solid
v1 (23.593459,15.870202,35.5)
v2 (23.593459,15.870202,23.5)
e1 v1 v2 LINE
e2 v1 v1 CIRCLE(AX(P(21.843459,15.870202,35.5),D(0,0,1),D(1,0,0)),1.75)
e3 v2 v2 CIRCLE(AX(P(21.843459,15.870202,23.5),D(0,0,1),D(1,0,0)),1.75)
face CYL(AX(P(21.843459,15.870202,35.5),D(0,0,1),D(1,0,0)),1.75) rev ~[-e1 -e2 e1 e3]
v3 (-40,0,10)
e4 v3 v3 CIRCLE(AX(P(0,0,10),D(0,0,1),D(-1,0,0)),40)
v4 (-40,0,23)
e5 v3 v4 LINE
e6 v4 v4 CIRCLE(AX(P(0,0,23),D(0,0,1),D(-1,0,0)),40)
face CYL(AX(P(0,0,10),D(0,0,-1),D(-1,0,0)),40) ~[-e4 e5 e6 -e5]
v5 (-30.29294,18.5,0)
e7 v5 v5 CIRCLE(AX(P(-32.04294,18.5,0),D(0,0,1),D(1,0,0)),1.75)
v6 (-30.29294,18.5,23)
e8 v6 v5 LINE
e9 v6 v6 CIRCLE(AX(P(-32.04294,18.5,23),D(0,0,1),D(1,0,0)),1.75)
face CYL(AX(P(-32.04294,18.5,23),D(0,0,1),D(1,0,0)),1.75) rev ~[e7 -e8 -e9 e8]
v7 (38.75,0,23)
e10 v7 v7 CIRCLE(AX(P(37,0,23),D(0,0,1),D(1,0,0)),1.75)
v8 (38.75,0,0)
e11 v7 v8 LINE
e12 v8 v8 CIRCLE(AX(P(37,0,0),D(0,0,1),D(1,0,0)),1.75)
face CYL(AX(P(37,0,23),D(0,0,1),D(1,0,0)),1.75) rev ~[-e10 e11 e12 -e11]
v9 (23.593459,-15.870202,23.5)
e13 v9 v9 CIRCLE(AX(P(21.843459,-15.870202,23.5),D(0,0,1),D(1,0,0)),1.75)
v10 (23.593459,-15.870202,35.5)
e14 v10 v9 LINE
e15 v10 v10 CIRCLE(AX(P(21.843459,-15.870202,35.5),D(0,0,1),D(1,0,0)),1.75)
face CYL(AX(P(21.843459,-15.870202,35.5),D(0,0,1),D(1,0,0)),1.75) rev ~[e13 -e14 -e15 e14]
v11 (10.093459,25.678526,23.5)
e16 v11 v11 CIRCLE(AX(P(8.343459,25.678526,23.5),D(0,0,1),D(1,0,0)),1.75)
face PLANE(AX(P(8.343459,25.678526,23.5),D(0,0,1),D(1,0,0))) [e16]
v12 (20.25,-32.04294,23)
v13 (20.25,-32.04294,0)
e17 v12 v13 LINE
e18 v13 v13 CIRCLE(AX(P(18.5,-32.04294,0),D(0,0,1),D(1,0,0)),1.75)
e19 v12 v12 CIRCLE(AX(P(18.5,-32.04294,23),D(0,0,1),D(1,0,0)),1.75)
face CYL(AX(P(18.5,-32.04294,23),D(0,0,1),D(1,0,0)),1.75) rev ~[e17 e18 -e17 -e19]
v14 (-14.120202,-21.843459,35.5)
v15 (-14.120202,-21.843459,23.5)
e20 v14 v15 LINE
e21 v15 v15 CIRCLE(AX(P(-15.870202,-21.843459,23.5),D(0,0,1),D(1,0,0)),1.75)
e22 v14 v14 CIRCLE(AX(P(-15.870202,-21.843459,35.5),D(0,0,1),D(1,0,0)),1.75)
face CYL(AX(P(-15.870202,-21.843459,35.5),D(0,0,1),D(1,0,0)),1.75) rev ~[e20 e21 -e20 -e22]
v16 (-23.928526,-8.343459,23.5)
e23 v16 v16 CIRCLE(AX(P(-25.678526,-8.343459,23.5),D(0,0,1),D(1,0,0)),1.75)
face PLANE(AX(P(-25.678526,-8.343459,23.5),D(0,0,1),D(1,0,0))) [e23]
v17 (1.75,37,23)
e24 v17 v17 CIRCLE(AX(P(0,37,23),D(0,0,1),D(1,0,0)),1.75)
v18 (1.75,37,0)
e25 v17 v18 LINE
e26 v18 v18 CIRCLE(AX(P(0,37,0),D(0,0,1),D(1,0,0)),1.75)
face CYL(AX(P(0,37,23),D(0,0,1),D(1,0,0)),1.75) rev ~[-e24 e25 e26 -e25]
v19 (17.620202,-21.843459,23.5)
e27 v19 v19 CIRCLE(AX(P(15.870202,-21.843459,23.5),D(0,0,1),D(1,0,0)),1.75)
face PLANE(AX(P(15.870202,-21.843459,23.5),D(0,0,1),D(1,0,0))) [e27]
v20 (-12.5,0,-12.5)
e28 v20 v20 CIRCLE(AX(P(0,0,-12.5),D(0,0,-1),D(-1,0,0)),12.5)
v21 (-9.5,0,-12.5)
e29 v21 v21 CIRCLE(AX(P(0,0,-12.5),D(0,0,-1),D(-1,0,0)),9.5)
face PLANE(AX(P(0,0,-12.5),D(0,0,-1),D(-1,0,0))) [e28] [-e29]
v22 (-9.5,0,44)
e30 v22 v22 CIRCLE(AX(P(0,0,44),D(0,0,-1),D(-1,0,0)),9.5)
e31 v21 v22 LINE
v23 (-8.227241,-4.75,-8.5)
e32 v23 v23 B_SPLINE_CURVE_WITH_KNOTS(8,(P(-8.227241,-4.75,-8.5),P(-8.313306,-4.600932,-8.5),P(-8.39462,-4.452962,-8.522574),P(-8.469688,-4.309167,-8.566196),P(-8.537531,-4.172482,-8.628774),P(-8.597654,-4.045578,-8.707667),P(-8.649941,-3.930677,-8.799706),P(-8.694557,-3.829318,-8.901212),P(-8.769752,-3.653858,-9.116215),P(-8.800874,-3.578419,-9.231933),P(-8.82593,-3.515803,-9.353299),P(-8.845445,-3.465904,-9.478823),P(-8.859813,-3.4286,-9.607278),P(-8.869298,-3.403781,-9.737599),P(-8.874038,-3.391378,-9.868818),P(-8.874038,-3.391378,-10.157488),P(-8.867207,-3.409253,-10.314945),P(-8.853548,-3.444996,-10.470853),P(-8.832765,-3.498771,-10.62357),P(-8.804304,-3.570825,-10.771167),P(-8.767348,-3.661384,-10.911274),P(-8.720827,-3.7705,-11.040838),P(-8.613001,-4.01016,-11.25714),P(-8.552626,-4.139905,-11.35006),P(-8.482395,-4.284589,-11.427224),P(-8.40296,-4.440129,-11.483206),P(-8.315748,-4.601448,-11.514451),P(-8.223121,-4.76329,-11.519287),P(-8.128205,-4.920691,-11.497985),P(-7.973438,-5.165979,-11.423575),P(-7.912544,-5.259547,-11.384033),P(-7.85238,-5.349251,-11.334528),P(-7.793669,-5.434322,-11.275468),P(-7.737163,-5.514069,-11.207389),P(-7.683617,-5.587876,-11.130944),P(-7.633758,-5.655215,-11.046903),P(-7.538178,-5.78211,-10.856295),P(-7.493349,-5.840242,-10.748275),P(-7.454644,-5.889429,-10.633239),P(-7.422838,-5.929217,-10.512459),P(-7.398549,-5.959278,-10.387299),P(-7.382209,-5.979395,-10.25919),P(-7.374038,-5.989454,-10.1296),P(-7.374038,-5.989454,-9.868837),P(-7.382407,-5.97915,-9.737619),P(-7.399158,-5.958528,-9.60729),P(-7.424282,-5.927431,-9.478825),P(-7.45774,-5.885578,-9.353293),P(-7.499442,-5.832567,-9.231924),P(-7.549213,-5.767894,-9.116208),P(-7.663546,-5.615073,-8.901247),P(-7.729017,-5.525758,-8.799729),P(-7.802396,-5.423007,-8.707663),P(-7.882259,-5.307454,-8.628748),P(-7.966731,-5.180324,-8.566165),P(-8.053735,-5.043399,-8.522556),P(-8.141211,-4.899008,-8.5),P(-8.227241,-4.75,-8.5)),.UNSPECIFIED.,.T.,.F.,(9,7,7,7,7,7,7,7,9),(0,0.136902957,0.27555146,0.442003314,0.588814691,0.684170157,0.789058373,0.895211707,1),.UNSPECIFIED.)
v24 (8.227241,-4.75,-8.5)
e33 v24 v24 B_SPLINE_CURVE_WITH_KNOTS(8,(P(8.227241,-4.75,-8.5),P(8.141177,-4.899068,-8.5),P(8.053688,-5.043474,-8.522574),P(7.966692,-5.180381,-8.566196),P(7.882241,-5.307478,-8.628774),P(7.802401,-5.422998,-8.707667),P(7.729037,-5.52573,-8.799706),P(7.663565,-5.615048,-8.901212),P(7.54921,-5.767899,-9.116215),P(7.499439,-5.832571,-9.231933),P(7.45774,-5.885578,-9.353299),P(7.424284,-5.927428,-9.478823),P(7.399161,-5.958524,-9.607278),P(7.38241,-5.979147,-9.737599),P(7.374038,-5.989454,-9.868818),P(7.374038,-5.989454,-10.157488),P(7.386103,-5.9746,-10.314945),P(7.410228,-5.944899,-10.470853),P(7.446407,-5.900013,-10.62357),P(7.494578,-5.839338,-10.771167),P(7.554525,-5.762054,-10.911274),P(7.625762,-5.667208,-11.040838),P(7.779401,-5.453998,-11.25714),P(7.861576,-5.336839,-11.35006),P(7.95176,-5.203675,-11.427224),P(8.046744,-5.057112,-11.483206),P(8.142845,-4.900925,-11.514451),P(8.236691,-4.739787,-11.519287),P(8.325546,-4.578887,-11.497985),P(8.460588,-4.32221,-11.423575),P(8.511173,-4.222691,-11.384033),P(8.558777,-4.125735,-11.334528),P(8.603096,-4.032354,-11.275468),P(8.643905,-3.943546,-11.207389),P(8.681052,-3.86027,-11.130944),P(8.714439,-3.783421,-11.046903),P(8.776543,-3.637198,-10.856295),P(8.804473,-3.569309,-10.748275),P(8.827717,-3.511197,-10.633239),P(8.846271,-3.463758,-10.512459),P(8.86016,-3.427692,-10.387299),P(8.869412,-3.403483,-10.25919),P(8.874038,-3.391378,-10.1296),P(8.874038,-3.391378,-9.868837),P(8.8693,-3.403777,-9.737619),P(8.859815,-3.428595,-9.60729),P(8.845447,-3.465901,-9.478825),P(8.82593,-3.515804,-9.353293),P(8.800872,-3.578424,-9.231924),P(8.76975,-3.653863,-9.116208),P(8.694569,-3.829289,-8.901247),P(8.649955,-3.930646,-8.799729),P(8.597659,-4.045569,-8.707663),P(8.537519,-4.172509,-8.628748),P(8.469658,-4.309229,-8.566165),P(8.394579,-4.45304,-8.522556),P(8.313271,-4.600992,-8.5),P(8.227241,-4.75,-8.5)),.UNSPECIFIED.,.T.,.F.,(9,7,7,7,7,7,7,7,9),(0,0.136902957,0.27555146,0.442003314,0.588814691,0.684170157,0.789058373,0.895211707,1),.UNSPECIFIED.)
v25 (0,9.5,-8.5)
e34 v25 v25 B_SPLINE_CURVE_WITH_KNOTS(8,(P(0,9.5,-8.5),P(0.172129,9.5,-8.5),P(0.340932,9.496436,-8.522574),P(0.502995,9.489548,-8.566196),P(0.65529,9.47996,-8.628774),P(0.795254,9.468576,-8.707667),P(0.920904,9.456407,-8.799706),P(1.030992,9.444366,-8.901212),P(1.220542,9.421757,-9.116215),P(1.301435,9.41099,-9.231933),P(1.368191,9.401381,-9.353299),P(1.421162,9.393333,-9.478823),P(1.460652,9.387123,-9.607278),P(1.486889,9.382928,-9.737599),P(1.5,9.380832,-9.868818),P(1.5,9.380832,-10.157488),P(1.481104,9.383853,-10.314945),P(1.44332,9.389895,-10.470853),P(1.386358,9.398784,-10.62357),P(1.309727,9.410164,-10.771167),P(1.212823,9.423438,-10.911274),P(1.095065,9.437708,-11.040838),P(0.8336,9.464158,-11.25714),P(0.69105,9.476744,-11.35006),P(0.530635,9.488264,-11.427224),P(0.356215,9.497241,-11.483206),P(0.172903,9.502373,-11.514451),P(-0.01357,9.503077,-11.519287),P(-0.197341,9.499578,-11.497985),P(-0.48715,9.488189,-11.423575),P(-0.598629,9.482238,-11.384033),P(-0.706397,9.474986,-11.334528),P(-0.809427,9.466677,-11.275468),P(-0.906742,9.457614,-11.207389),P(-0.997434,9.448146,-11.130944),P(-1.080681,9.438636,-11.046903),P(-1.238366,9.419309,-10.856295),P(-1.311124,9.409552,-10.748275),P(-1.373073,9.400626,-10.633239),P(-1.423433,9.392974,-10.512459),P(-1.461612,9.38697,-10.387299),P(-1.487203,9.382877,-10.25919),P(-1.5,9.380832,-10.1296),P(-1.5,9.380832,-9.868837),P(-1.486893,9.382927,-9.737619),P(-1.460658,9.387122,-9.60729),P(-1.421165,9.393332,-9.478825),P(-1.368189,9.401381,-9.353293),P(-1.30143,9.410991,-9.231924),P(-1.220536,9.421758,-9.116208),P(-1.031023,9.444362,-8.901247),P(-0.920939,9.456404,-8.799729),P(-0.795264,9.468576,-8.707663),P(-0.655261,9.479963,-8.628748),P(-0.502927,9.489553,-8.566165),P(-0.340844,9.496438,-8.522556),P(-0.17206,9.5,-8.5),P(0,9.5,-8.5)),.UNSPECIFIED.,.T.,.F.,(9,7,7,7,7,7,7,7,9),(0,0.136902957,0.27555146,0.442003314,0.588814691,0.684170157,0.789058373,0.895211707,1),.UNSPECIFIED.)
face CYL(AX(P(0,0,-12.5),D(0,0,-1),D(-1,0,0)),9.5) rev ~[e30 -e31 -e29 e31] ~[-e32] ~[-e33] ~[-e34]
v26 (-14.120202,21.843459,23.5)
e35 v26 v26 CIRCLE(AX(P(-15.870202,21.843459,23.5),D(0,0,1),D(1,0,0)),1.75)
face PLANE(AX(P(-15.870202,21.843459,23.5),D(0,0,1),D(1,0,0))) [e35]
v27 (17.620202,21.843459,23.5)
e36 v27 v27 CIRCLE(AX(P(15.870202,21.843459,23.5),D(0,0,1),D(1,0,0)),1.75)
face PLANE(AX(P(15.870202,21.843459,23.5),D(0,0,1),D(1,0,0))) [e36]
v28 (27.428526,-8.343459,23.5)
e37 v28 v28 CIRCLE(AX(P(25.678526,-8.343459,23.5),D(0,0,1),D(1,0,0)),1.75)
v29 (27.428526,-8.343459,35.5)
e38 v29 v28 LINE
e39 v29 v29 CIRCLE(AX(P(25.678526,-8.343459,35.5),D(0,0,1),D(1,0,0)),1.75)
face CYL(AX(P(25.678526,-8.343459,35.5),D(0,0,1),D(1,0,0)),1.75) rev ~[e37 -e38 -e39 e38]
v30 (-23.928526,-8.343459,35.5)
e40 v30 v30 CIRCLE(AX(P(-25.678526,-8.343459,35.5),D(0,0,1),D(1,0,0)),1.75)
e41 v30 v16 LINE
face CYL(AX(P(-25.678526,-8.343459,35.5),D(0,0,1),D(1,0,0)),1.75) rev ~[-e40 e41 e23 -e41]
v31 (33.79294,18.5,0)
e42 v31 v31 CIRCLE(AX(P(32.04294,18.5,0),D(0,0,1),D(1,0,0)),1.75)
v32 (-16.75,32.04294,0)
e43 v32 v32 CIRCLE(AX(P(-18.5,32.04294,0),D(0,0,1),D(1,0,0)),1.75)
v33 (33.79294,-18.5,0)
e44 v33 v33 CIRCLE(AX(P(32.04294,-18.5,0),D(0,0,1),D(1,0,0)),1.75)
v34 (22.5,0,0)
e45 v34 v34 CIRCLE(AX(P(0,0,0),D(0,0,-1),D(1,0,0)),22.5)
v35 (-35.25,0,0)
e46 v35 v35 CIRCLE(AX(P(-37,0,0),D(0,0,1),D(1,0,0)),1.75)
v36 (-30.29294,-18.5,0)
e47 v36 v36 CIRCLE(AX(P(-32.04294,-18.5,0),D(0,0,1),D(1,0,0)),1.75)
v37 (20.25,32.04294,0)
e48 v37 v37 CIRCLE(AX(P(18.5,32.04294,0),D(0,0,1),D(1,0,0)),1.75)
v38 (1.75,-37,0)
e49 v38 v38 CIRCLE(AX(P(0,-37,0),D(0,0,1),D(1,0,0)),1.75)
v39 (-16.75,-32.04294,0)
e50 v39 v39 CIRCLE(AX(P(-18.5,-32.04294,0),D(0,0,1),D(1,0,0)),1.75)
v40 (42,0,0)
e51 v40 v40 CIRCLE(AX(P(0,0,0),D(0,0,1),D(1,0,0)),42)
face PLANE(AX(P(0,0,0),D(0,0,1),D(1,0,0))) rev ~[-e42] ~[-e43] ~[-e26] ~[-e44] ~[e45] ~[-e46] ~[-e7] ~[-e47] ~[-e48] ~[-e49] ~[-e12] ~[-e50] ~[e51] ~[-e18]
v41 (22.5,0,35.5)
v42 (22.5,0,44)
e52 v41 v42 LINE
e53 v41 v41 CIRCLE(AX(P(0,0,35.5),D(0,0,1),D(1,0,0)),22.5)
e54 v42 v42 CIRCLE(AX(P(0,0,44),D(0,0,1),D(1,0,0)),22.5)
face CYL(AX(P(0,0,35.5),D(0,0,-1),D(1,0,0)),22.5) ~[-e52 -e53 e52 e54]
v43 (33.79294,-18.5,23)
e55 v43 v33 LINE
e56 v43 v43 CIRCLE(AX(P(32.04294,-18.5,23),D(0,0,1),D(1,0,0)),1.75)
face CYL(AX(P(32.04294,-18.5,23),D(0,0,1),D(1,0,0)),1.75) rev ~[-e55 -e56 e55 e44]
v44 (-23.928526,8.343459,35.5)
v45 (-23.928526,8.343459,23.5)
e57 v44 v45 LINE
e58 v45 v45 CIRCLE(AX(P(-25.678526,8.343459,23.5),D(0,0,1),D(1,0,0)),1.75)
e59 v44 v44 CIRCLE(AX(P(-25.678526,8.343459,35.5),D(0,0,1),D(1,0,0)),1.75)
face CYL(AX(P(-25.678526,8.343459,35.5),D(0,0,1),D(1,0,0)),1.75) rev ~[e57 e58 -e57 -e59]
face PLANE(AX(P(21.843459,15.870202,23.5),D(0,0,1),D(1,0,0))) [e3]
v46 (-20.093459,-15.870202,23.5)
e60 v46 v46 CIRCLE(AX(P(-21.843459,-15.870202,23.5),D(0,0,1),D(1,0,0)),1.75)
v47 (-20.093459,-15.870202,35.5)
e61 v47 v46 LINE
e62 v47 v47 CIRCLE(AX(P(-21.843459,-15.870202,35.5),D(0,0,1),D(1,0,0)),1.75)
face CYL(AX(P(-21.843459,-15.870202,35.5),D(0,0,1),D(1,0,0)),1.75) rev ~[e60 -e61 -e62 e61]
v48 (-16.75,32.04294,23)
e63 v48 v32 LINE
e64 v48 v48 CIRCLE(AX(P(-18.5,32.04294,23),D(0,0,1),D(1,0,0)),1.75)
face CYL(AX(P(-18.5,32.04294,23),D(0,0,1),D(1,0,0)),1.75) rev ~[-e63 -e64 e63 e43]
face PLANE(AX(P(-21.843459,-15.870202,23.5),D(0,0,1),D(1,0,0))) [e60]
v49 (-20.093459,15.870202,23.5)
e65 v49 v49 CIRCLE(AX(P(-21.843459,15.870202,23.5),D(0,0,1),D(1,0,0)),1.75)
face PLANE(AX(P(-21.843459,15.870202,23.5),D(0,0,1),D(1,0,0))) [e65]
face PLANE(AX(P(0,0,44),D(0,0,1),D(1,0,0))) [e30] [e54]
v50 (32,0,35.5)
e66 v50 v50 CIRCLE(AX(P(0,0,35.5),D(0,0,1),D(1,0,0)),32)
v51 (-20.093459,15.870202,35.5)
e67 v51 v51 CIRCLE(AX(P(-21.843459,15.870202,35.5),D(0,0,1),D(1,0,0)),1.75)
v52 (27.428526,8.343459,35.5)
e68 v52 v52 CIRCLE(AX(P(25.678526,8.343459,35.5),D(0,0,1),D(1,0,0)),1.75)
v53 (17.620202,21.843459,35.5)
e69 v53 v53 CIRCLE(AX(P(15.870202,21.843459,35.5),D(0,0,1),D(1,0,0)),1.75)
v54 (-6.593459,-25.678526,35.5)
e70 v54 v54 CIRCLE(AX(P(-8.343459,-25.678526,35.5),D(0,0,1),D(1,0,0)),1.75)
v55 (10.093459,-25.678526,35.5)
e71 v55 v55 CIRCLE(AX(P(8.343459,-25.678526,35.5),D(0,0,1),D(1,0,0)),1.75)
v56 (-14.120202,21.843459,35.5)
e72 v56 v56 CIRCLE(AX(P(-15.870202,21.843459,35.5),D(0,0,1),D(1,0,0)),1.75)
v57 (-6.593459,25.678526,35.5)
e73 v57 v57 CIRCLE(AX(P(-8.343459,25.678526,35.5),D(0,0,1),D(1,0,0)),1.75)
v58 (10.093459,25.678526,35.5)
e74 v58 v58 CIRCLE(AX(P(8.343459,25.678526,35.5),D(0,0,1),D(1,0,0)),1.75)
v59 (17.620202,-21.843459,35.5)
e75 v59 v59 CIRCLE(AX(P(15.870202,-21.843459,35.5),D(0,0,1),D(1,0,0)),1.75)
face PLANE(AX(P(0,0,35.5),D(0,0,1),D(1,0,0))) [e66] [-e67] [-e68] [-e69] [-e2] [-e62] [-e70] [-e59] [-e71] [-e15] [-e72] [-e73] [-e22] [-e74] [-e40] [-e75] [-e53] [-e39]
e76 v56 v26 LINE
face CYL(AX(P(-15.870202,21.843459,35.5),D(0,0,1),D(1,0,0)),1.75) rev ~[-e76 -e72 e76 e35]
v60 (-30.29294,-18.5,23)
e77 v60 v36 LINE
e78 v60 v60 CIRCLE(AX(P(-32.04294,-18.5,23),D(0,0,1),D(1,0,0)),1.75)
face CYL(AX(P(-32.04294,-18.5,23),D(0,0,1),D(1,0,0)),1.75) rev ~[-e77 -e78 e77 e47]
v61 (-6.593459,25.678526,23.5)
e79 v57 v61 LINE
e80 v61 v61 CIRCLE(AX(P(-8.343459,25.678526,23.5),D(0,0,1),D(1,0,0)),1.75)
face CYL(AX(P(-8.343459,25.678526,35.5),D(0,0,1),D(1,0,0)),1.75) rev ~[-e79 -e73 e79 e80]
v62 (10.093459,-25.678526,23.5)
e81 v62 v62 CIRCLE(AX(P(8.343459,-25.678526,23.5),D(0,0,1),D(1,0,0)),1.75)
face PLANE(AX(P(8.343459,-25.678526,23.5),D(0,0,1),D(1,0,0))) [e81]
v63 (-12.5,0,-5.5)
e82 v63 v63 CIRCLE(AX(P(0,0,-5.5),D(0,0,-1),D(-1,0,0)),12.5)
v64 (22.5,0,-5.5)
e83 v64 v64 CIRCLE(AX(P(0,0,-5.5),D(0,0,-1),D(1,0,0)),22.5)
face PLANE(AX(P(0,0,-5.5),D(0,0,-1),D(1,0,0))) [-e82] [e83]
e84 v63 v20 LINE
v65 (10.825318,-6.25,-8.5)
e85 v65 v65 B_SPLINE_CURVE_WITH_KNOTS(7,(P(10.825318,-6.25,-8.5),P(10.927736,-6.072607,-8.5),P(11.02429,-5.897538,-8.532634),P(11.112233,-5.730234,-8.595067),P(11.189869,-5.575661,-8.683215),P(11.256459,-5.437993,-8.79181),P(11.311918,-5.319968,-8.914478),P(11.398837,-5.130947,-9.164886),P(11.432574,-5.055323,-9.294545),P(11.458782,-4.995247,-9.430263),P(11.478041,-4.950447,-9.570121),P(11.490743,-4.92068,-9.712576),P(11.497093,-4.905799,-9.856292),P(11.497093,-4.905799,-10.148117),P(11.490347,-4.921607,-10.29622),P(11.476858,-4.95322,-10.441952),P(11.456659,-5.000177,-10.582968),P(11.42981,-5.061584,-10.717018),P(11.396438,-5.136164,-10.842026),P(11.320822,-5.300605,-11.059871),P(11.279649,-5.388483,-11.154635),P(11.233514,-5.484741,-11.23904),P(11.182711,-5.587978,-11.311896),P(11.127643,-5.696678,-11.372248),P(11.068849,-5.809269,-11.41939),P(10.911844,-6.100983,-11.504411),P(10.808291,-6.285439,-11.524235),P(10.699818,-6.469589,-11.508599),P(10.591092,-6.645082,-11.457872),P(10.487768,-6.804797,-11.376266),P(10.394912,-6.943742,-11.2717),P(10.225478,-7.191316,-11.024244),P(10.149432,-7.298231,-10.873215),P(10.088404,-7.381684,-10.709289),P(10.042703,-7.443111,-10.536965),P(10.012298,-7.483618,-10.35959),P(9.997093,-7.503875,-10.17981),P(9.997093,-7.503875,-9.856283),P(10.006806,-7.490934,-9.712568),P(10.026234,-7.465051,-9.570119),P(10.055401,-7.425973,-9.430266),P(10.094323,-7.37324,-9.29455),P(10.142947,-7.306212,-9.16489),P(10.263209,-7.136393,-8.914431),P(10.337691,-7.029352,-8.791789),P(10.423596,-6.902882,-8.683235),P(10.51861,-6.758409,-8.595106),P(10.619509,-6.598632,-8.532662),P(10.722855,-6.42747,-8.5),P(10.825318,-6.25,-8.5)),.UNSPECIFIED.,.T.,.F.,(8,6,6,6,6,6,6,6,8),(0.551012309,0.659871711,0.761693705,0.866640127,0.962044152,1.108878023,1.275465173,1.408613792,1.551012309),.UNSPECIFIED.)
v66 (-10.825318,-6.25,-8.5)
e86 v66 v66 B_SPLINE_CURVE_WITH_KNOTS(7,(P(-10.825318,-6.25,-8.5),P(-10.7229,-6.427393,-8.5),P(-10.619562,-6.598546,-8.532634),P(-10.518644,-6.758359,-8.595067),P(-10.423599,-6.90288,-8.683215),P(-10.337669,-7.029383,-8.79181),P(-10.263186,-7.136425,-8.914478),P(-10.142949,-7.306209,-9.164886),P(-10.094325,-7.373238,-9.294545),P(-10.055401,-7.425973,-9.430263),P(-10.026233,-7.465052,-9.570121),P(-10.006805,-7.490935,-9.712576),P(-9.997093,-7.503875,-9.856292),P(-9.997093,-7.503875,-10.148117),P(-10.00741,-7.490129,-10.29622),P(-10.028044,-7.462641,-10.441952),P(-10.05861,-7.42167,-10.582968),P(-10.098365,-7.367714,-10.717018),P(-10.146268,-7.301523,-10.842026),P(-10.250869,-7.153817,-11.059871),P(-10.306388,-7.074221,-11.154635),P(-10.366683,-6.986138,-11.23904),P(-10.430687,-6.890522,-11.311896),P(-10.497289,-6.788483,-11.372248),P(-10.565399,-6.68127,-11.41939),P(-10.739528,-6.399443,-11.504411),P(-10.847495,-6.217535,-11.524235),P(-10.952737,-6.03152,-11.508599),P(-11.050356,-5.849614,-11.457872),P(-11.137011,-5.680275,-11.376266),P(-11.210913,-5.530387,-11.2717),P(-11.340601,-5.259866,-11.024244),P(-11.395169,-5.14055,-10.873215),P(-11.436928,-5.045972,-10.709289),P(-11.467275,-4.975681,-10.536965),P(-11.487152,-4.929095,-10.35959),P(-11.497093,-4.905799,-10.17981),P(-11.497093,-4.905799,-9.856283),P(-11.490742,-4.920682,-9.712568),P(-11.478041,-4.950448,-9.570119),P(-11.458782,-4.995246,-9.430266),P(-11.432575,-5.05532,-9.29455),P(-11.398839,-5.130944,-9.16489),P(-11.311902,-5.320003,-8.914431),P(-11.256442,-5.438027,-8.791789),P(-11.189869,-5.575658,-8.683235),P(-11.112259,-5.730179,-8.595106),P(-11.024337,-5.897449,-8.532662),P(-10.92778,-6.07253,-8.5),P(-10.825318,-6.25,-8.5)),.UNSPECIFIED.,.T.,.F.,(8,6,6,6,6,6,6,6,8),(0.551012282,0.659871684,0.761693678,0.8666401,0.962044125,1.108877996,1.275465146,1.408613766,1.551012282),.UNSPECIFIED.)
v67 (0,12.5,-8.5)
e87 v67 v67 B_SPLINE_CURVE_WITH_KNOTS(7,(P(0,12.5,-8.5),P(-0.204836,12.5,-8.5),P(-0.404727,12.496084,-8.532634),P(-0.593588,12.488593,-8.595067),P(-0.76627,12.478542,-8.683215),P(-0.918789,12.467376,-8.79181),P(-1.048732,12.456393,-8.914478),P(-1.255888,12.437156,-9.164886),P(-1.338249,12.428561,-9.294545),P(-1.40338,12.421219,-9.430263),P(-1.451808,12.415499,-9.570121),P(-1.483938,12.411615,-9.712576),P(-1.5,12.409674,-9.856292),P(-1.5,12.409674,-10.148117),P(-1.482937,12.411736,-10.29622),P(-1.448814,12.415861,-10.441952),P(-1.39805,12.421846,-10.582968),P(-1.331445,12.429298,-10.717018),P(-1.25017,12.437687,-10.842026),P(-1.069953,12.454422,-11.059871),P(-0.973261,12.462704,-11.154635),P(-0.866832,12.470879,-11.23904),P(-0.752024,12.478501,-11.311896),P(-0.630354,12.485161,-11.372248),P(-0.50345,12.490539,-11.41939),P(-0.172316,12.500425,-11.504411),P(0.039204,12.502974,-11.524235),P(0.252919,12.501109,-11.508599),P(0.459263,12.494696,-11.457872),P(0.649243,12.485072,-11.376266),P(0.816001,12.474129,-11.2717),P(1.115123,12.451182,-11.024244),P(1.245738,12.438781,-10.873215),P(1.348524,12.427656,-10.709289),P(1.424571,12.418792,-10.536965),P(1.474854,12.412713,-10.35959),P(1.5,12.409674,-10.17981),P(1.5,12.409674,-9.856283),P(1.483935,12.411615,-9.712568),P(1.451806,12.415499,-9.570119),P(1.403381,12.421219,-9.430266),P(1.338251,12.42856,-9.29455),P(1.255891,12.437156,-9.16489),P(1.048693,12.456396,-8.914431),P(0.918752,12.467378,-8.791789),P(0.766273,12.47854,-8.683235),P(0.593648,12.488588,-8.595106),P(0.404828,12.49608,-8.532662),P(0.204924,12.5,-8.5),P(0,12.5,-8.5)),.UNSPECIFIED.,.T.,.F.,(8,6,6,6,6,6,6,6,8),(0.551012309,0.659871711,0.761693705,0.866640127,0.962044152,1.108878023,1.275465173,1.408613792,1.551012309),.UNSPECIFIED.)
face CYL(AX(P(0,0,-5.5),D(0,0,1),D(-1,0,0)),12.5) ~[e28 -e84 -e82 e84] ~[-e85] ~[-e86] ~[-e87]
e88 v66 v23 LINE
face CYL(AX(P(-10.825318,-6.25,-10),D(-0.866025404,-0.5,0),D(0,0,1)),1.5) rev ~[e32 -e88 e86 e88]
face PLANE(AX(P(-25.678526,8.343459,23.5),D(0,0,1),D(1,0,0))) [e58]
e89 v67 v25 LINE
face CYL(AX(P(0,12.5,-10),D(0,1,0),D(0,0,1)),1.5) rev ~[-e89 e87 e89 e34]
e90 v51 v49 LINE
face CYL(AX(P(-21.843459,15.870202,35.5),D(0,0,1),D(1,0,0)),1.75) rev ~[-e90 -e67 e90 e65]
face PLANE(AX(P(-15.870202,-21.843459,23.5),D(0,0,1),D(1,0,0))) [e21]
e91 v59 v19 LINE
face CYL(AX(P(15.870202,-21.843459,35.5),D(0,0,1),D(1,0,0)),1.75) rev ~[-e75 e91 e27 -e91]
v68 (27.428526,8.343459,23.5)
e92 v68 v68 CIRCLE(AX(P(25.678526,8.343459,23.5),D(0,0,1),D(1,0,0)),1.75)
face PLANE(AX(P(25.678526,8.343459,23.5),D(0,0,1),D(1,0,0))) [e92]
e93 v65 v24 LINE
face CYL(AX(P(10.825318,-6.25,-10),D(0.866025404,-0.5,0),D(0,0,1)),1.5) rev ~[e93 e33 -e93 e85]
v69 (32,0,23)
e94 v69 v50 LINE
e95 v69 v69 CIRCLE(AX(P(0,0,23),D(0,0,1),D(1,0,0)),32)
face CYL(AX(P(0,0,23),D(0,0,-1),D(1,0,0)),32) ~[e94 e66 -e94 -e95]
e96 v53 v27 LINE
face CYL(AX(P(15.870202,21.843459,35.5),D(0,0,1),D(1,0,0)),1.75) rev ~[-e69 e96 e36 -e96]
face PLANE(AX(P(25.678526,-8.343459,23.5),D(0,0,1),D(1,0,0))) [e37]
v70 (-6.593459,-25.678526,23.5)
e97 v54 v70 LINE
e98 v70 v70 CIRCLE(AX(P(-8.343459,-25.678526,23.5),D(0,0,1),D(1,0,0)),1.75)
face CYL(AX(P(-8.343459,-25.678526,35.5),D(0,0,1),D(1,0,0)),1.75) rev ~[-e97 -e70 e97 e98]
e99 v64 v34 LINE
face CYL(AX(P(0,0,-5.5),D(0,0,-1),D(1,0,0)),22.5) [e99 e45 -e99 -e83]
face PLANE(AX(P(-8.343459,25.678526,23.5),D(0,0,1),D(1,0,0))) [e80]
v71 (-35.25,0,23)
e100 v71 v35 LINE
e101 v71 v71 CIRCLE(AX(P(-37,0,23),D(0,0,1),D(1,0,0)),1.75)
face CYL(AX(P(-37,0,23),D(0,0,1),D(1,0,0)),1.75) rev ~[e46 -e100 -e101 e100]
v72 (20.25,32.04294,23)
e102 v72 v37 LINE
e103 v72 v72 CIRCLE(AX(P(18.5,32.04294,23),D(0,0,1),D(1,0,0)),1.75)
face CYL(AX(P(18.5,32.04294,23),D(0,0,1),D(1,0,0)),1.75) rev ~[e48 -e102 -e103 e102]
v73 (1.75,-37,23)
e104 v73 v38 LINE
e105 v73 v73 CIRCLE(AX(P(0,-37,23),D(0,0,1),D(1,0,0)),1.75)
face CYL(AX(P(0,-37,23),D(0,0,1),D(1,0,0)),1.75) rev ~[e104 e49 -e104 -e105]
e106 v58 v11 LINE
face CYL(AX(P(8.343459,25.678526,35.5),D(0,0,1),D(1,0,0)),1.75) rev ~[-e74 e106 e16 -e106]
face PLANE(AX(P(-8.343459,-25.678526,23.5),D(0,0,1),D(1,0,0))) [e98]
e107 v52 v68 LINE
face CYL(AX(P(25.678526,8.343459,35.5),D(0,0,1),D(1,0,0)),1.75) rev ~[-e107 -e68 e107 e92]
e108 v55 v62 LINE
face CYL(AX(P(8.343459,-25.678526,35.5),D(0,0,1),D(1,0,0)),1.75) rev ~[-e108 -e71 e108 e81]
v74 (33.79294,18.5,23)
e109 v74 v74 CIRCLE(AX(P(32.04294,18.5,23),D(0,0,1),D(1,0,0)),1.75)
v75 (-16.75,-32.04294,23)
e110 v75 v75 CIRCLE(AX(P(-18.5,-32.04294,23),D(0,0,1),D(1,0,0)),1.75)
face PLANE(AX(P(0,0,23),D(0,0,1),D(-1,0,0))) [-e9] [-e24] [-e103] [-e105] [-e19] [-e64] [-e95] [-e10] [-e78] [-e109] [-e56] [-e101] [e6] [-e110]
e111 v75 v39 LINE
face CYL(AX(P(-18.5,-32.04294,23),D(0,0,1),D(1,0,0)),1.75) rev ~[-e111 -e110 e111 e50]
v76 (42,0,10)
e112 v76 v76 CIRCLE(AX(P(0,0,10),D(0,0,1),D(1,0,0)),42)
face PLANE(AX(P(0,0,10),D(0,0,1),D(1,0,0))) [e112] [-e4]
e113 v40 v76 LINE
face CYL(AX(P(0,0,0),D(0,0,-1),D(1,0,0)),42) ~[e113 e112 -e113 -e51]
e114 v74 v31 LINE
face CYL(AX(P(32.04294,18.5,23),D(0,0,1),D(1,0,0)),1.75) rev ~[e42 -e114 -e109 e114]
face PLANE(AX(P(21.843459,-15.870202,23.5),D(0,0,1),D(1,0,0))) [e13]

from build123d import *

# Parameters (mm, degrees)
SKETCH_1_R               = 42
EXTRUDE_1_DEPTH          = 10
SKETCH_2_R               = 40
EXTRUDE_2_DEPTH          = 13
SKETCH_3_R               = 32
EXTRUDE_3_DEPTH          = 12.5
SKETCH_4_R               = 22.5
EXTRUDE_4_DEPTH          = 8.5
EXTRUDE_START            = 5.5
SKETCH_5_R               = 22.5
EXTRUDE_5_DEPTH          = 5.5
SKETCH_6_R               = 12.5
EXTRUDE_6_DEPTH          = 7
SKETCH_7_R               = 9.5
CUT_EXTRUDE_1_DEPTH      = 56.5
SKETCH_8_R               = 1.75
CUT_EXTRUDE_2_DEPTH      = 23
SKETCH_9_R               = 1.75
CUT_EXTRUDE_3_DEPTH      = 12
CUT_EXTRUDE_4_REACH      = 83.672
CUT_EXTRUDE_4_END_RADIUS = 9.5
SKETCH_11_R              = 1.5
PATTERN_CIRCULAR_1_COUNT = 3


with BuildPart() as part:
    # Эскиз1 → Бобышка-Вытянуть1 (new body)
    with BuildSketch(Plane.XY):
        Circle(SKETCH_1_R)
    extrude(amount=EXTRUDE_1_DEPTH)

    # Эскиз2 → Бобышка-Вытянуть2 (add)
    with BuildSketch(Plane.XY.offset(10)):
        with Locations(Location((0, 0, 0), (0, 0, 180))):
            Circle(SKETCH_2_R)
    extrude(amount=EXTRUDE_2_DEPTH)

    # Эскиз3 → Бобышка-Вытянуть3 (add)
    with BuildSketch(Plane.XY.offset(23)):
        Circle(SKETCH_3_R)
    extrude(amount=EXTRUDE_3_DEPTH)

    # Эскиз4 → Бобышка-Вытянуть4 (add)
    with BuildSketch(Plane.XY.offset(35.5)):
        Circle(SKETCH_4_R)
    extrude(amount=EXTRUDE_4_DEPTH)

    # Эскиз5 → Бобышка-Вытянуть5 (add)
    with BuildSketch(Plane(origin=(0, 0, 0), x_dir=(-1, 0, 0), z_dir=(0, 0, -1)).offset(EXTRUDE_START)):
        with Locations(Location((0, 0, 0), (0, 0, 180))):
            Circle(SKETCH_5_R)
    extrude(amount=-EXTRUDE_5_DEPTH)

    # Эскиз6 → Бобышка-Вытянуть6 (add)
    with BuildSketch(Plane(origin=(0, 0, -5.5), x_dir=(-1, 0, 0), z_dir=(0, 0, -1))):
        Circle(SKETCH_6_R)
    extrude(amount=EXTRUDE_6_DEPTH)

    # Эскиз7 → Вырез-Вытянуть1 (cut)
    with BuildSketch(Plane(origin=(0, 0, -12.5), x_dir=(-1, 0, 0), z_dir=(0, 0, -1))):
        Circle(SKETCH_7_R)
    extrude(amount=-CUT_EXTRUDE_1_DEPTH, mode=Mode.SUBTRACT)

    # Эскиз8 → Вырез-Вытянуть2 (cut)
    with BuildSketch(Plane.XY.offset(23)):
        with Locations((0, 37)):
            Circle(SKETCH_8_R)
        with Locations((18.5, 32.04293994)):
            Circle(SKETCH_8_R)
        with Locations((32.04293994, 18.5)):
            Circle(SKETCH_8_R)
        with Locations((37, 0)):
            Circle(SKETCH_8_R)
        with Locations((32.04293994, -18.5)):
            Circle(SKETCH_8_R)
        with Locations((18.5, -32.04293994)):
            Circle(SKETCH_8_R)
        with Locations((0, -37)):
            Circle(SKETCH_8_R)
        with Locations((-18.5, -32.04293994)):
            Circle(SKETCH_8_R)
        with Locations((-32.04293994, -18.5)):
            Circle(SKETCH_8_R)
        with Locations((-37, 0)):
            Circle(SKETCH_8_R)
        with Locations((-32.04293994, 18.5)):
            Circle(SKETCH_8_R)
        with Locations((-18.5, 32.04293994)):
            Circle(SKETCH_8_R)
    extrude(amount=-CUT_EXTRUDE_2_DEPTH, mode=Mode.SUBTRACT)

    # Эскиз9 → Вырез-Вытянуть3 (cut)
    with BuildSketch(Plane.XY.offset(35.5)):
        with Locations((-8.343458848, 25.67852594)):
            Circle(SKETCH_9_R)
        with Locations((8.343458848, 25.67852594)):
            Circle(SKETCH_9_R)
        with Locations((15.870201812, 21.843458848)):
            Circle(SKETCH_9_R)
        with Locations((21.843458848, 15.870201812)):
            Circle(SKETCH_9_R)
        with Locations((25.67852594, 8.343458848)):
            Circle(SKETCH_9_R)
        with Locations((25.67852594, -8.343458848)):
            Circle(SKETCH_9_R)
        with Locations((21.843458848, -15.870201812)):
            Circle(SKETCH_9_R)
        with Locations((15.870201812, -21.843458848)):
            Circle(SKETCH_9_R)
        with Locations((8.343458848, -25.67852594)):
            Circle(SKETCH_9_R)
        with Locations((-8.343458848, -25.67852594)):
            Circle(SKETCH_9_R)
        with Locations((-15.870201812, -21.843458848)):
            Circle(SKETCH_9_R)
        with Locations((-21.843458848, -15.870201812)):
            Circle(SKETCH_9_R)
        with Locations((-25.67852594, -8.343458848)):
            Circle(SKETCH_9_R)
        with Locations((-25.67852594, 8.343458848)):
            Circle(SKETCH_9_R)
        with Locations((-21.843458848, 15.870201812)):
            Circle(SKETCH_9_R)
        with Locations((-15.870201812, 21.843458848)):
            Circle(SKETCH_9_R)
    extrude(amount=-CUT_EXTRUDE_3_DEPTH, mode=Mode.SUBTRACT)

    # Вырез-Вытянуть4: up to this cylinder (the profile starts outside it)
    cut_extrude_4_end = Plane(origin=(0, 0, -10), z_dir=(0, 0, -1)) * Cylinder(CUT_EXTRUDE_4_END_RADIUS, 187.344, mode=Mode.PRIVATE)
    # Эскиз11 → Вырез-Вытянуть4 (cut, up to the surface)
    with BuildSketch(Plane(origin=(0, 12.5, 0), x_dir=(1, 0, 0), z_dir=(0, 1, 0)), mode=Mode.PRIVATE) as cut_extrude_4_sk1:
        with Locations(Location((0, 10, 0), (0, 0, 270))):
            Circle(SKETCH_11_R)
    cut_extrude_4_tool1 = extrude(cut_extrude_4_sk1.sketch, amount=-CUT_EXTRUDE_4_REACH, mode=Mode.PRIVATE) - cut_extrude_4_end
    cut_extrude_4 = cut_extrude_4_tool1.solids().sort_by_distance((0, 12.5, -10))[0]
    add(cut_extrude_4, mode=Mode.SUBTRACT)

    # Круговой массив1: Вырез-Вытянуть4 ×3 about axis
    pattern_circular_1_axis = Axis((0, 0, 70.870057685), (0, 0, -1))
    for i in range(1, PATTERN_CIRCULAR_1_COUNT):
        add(cut_extrude_4.rotate(pattern_circular_1_axis, i * 360 / PATTERN_CIRCULAR_1_COUNT), mode=Mode.SUBTRACT)


solid = part.part
